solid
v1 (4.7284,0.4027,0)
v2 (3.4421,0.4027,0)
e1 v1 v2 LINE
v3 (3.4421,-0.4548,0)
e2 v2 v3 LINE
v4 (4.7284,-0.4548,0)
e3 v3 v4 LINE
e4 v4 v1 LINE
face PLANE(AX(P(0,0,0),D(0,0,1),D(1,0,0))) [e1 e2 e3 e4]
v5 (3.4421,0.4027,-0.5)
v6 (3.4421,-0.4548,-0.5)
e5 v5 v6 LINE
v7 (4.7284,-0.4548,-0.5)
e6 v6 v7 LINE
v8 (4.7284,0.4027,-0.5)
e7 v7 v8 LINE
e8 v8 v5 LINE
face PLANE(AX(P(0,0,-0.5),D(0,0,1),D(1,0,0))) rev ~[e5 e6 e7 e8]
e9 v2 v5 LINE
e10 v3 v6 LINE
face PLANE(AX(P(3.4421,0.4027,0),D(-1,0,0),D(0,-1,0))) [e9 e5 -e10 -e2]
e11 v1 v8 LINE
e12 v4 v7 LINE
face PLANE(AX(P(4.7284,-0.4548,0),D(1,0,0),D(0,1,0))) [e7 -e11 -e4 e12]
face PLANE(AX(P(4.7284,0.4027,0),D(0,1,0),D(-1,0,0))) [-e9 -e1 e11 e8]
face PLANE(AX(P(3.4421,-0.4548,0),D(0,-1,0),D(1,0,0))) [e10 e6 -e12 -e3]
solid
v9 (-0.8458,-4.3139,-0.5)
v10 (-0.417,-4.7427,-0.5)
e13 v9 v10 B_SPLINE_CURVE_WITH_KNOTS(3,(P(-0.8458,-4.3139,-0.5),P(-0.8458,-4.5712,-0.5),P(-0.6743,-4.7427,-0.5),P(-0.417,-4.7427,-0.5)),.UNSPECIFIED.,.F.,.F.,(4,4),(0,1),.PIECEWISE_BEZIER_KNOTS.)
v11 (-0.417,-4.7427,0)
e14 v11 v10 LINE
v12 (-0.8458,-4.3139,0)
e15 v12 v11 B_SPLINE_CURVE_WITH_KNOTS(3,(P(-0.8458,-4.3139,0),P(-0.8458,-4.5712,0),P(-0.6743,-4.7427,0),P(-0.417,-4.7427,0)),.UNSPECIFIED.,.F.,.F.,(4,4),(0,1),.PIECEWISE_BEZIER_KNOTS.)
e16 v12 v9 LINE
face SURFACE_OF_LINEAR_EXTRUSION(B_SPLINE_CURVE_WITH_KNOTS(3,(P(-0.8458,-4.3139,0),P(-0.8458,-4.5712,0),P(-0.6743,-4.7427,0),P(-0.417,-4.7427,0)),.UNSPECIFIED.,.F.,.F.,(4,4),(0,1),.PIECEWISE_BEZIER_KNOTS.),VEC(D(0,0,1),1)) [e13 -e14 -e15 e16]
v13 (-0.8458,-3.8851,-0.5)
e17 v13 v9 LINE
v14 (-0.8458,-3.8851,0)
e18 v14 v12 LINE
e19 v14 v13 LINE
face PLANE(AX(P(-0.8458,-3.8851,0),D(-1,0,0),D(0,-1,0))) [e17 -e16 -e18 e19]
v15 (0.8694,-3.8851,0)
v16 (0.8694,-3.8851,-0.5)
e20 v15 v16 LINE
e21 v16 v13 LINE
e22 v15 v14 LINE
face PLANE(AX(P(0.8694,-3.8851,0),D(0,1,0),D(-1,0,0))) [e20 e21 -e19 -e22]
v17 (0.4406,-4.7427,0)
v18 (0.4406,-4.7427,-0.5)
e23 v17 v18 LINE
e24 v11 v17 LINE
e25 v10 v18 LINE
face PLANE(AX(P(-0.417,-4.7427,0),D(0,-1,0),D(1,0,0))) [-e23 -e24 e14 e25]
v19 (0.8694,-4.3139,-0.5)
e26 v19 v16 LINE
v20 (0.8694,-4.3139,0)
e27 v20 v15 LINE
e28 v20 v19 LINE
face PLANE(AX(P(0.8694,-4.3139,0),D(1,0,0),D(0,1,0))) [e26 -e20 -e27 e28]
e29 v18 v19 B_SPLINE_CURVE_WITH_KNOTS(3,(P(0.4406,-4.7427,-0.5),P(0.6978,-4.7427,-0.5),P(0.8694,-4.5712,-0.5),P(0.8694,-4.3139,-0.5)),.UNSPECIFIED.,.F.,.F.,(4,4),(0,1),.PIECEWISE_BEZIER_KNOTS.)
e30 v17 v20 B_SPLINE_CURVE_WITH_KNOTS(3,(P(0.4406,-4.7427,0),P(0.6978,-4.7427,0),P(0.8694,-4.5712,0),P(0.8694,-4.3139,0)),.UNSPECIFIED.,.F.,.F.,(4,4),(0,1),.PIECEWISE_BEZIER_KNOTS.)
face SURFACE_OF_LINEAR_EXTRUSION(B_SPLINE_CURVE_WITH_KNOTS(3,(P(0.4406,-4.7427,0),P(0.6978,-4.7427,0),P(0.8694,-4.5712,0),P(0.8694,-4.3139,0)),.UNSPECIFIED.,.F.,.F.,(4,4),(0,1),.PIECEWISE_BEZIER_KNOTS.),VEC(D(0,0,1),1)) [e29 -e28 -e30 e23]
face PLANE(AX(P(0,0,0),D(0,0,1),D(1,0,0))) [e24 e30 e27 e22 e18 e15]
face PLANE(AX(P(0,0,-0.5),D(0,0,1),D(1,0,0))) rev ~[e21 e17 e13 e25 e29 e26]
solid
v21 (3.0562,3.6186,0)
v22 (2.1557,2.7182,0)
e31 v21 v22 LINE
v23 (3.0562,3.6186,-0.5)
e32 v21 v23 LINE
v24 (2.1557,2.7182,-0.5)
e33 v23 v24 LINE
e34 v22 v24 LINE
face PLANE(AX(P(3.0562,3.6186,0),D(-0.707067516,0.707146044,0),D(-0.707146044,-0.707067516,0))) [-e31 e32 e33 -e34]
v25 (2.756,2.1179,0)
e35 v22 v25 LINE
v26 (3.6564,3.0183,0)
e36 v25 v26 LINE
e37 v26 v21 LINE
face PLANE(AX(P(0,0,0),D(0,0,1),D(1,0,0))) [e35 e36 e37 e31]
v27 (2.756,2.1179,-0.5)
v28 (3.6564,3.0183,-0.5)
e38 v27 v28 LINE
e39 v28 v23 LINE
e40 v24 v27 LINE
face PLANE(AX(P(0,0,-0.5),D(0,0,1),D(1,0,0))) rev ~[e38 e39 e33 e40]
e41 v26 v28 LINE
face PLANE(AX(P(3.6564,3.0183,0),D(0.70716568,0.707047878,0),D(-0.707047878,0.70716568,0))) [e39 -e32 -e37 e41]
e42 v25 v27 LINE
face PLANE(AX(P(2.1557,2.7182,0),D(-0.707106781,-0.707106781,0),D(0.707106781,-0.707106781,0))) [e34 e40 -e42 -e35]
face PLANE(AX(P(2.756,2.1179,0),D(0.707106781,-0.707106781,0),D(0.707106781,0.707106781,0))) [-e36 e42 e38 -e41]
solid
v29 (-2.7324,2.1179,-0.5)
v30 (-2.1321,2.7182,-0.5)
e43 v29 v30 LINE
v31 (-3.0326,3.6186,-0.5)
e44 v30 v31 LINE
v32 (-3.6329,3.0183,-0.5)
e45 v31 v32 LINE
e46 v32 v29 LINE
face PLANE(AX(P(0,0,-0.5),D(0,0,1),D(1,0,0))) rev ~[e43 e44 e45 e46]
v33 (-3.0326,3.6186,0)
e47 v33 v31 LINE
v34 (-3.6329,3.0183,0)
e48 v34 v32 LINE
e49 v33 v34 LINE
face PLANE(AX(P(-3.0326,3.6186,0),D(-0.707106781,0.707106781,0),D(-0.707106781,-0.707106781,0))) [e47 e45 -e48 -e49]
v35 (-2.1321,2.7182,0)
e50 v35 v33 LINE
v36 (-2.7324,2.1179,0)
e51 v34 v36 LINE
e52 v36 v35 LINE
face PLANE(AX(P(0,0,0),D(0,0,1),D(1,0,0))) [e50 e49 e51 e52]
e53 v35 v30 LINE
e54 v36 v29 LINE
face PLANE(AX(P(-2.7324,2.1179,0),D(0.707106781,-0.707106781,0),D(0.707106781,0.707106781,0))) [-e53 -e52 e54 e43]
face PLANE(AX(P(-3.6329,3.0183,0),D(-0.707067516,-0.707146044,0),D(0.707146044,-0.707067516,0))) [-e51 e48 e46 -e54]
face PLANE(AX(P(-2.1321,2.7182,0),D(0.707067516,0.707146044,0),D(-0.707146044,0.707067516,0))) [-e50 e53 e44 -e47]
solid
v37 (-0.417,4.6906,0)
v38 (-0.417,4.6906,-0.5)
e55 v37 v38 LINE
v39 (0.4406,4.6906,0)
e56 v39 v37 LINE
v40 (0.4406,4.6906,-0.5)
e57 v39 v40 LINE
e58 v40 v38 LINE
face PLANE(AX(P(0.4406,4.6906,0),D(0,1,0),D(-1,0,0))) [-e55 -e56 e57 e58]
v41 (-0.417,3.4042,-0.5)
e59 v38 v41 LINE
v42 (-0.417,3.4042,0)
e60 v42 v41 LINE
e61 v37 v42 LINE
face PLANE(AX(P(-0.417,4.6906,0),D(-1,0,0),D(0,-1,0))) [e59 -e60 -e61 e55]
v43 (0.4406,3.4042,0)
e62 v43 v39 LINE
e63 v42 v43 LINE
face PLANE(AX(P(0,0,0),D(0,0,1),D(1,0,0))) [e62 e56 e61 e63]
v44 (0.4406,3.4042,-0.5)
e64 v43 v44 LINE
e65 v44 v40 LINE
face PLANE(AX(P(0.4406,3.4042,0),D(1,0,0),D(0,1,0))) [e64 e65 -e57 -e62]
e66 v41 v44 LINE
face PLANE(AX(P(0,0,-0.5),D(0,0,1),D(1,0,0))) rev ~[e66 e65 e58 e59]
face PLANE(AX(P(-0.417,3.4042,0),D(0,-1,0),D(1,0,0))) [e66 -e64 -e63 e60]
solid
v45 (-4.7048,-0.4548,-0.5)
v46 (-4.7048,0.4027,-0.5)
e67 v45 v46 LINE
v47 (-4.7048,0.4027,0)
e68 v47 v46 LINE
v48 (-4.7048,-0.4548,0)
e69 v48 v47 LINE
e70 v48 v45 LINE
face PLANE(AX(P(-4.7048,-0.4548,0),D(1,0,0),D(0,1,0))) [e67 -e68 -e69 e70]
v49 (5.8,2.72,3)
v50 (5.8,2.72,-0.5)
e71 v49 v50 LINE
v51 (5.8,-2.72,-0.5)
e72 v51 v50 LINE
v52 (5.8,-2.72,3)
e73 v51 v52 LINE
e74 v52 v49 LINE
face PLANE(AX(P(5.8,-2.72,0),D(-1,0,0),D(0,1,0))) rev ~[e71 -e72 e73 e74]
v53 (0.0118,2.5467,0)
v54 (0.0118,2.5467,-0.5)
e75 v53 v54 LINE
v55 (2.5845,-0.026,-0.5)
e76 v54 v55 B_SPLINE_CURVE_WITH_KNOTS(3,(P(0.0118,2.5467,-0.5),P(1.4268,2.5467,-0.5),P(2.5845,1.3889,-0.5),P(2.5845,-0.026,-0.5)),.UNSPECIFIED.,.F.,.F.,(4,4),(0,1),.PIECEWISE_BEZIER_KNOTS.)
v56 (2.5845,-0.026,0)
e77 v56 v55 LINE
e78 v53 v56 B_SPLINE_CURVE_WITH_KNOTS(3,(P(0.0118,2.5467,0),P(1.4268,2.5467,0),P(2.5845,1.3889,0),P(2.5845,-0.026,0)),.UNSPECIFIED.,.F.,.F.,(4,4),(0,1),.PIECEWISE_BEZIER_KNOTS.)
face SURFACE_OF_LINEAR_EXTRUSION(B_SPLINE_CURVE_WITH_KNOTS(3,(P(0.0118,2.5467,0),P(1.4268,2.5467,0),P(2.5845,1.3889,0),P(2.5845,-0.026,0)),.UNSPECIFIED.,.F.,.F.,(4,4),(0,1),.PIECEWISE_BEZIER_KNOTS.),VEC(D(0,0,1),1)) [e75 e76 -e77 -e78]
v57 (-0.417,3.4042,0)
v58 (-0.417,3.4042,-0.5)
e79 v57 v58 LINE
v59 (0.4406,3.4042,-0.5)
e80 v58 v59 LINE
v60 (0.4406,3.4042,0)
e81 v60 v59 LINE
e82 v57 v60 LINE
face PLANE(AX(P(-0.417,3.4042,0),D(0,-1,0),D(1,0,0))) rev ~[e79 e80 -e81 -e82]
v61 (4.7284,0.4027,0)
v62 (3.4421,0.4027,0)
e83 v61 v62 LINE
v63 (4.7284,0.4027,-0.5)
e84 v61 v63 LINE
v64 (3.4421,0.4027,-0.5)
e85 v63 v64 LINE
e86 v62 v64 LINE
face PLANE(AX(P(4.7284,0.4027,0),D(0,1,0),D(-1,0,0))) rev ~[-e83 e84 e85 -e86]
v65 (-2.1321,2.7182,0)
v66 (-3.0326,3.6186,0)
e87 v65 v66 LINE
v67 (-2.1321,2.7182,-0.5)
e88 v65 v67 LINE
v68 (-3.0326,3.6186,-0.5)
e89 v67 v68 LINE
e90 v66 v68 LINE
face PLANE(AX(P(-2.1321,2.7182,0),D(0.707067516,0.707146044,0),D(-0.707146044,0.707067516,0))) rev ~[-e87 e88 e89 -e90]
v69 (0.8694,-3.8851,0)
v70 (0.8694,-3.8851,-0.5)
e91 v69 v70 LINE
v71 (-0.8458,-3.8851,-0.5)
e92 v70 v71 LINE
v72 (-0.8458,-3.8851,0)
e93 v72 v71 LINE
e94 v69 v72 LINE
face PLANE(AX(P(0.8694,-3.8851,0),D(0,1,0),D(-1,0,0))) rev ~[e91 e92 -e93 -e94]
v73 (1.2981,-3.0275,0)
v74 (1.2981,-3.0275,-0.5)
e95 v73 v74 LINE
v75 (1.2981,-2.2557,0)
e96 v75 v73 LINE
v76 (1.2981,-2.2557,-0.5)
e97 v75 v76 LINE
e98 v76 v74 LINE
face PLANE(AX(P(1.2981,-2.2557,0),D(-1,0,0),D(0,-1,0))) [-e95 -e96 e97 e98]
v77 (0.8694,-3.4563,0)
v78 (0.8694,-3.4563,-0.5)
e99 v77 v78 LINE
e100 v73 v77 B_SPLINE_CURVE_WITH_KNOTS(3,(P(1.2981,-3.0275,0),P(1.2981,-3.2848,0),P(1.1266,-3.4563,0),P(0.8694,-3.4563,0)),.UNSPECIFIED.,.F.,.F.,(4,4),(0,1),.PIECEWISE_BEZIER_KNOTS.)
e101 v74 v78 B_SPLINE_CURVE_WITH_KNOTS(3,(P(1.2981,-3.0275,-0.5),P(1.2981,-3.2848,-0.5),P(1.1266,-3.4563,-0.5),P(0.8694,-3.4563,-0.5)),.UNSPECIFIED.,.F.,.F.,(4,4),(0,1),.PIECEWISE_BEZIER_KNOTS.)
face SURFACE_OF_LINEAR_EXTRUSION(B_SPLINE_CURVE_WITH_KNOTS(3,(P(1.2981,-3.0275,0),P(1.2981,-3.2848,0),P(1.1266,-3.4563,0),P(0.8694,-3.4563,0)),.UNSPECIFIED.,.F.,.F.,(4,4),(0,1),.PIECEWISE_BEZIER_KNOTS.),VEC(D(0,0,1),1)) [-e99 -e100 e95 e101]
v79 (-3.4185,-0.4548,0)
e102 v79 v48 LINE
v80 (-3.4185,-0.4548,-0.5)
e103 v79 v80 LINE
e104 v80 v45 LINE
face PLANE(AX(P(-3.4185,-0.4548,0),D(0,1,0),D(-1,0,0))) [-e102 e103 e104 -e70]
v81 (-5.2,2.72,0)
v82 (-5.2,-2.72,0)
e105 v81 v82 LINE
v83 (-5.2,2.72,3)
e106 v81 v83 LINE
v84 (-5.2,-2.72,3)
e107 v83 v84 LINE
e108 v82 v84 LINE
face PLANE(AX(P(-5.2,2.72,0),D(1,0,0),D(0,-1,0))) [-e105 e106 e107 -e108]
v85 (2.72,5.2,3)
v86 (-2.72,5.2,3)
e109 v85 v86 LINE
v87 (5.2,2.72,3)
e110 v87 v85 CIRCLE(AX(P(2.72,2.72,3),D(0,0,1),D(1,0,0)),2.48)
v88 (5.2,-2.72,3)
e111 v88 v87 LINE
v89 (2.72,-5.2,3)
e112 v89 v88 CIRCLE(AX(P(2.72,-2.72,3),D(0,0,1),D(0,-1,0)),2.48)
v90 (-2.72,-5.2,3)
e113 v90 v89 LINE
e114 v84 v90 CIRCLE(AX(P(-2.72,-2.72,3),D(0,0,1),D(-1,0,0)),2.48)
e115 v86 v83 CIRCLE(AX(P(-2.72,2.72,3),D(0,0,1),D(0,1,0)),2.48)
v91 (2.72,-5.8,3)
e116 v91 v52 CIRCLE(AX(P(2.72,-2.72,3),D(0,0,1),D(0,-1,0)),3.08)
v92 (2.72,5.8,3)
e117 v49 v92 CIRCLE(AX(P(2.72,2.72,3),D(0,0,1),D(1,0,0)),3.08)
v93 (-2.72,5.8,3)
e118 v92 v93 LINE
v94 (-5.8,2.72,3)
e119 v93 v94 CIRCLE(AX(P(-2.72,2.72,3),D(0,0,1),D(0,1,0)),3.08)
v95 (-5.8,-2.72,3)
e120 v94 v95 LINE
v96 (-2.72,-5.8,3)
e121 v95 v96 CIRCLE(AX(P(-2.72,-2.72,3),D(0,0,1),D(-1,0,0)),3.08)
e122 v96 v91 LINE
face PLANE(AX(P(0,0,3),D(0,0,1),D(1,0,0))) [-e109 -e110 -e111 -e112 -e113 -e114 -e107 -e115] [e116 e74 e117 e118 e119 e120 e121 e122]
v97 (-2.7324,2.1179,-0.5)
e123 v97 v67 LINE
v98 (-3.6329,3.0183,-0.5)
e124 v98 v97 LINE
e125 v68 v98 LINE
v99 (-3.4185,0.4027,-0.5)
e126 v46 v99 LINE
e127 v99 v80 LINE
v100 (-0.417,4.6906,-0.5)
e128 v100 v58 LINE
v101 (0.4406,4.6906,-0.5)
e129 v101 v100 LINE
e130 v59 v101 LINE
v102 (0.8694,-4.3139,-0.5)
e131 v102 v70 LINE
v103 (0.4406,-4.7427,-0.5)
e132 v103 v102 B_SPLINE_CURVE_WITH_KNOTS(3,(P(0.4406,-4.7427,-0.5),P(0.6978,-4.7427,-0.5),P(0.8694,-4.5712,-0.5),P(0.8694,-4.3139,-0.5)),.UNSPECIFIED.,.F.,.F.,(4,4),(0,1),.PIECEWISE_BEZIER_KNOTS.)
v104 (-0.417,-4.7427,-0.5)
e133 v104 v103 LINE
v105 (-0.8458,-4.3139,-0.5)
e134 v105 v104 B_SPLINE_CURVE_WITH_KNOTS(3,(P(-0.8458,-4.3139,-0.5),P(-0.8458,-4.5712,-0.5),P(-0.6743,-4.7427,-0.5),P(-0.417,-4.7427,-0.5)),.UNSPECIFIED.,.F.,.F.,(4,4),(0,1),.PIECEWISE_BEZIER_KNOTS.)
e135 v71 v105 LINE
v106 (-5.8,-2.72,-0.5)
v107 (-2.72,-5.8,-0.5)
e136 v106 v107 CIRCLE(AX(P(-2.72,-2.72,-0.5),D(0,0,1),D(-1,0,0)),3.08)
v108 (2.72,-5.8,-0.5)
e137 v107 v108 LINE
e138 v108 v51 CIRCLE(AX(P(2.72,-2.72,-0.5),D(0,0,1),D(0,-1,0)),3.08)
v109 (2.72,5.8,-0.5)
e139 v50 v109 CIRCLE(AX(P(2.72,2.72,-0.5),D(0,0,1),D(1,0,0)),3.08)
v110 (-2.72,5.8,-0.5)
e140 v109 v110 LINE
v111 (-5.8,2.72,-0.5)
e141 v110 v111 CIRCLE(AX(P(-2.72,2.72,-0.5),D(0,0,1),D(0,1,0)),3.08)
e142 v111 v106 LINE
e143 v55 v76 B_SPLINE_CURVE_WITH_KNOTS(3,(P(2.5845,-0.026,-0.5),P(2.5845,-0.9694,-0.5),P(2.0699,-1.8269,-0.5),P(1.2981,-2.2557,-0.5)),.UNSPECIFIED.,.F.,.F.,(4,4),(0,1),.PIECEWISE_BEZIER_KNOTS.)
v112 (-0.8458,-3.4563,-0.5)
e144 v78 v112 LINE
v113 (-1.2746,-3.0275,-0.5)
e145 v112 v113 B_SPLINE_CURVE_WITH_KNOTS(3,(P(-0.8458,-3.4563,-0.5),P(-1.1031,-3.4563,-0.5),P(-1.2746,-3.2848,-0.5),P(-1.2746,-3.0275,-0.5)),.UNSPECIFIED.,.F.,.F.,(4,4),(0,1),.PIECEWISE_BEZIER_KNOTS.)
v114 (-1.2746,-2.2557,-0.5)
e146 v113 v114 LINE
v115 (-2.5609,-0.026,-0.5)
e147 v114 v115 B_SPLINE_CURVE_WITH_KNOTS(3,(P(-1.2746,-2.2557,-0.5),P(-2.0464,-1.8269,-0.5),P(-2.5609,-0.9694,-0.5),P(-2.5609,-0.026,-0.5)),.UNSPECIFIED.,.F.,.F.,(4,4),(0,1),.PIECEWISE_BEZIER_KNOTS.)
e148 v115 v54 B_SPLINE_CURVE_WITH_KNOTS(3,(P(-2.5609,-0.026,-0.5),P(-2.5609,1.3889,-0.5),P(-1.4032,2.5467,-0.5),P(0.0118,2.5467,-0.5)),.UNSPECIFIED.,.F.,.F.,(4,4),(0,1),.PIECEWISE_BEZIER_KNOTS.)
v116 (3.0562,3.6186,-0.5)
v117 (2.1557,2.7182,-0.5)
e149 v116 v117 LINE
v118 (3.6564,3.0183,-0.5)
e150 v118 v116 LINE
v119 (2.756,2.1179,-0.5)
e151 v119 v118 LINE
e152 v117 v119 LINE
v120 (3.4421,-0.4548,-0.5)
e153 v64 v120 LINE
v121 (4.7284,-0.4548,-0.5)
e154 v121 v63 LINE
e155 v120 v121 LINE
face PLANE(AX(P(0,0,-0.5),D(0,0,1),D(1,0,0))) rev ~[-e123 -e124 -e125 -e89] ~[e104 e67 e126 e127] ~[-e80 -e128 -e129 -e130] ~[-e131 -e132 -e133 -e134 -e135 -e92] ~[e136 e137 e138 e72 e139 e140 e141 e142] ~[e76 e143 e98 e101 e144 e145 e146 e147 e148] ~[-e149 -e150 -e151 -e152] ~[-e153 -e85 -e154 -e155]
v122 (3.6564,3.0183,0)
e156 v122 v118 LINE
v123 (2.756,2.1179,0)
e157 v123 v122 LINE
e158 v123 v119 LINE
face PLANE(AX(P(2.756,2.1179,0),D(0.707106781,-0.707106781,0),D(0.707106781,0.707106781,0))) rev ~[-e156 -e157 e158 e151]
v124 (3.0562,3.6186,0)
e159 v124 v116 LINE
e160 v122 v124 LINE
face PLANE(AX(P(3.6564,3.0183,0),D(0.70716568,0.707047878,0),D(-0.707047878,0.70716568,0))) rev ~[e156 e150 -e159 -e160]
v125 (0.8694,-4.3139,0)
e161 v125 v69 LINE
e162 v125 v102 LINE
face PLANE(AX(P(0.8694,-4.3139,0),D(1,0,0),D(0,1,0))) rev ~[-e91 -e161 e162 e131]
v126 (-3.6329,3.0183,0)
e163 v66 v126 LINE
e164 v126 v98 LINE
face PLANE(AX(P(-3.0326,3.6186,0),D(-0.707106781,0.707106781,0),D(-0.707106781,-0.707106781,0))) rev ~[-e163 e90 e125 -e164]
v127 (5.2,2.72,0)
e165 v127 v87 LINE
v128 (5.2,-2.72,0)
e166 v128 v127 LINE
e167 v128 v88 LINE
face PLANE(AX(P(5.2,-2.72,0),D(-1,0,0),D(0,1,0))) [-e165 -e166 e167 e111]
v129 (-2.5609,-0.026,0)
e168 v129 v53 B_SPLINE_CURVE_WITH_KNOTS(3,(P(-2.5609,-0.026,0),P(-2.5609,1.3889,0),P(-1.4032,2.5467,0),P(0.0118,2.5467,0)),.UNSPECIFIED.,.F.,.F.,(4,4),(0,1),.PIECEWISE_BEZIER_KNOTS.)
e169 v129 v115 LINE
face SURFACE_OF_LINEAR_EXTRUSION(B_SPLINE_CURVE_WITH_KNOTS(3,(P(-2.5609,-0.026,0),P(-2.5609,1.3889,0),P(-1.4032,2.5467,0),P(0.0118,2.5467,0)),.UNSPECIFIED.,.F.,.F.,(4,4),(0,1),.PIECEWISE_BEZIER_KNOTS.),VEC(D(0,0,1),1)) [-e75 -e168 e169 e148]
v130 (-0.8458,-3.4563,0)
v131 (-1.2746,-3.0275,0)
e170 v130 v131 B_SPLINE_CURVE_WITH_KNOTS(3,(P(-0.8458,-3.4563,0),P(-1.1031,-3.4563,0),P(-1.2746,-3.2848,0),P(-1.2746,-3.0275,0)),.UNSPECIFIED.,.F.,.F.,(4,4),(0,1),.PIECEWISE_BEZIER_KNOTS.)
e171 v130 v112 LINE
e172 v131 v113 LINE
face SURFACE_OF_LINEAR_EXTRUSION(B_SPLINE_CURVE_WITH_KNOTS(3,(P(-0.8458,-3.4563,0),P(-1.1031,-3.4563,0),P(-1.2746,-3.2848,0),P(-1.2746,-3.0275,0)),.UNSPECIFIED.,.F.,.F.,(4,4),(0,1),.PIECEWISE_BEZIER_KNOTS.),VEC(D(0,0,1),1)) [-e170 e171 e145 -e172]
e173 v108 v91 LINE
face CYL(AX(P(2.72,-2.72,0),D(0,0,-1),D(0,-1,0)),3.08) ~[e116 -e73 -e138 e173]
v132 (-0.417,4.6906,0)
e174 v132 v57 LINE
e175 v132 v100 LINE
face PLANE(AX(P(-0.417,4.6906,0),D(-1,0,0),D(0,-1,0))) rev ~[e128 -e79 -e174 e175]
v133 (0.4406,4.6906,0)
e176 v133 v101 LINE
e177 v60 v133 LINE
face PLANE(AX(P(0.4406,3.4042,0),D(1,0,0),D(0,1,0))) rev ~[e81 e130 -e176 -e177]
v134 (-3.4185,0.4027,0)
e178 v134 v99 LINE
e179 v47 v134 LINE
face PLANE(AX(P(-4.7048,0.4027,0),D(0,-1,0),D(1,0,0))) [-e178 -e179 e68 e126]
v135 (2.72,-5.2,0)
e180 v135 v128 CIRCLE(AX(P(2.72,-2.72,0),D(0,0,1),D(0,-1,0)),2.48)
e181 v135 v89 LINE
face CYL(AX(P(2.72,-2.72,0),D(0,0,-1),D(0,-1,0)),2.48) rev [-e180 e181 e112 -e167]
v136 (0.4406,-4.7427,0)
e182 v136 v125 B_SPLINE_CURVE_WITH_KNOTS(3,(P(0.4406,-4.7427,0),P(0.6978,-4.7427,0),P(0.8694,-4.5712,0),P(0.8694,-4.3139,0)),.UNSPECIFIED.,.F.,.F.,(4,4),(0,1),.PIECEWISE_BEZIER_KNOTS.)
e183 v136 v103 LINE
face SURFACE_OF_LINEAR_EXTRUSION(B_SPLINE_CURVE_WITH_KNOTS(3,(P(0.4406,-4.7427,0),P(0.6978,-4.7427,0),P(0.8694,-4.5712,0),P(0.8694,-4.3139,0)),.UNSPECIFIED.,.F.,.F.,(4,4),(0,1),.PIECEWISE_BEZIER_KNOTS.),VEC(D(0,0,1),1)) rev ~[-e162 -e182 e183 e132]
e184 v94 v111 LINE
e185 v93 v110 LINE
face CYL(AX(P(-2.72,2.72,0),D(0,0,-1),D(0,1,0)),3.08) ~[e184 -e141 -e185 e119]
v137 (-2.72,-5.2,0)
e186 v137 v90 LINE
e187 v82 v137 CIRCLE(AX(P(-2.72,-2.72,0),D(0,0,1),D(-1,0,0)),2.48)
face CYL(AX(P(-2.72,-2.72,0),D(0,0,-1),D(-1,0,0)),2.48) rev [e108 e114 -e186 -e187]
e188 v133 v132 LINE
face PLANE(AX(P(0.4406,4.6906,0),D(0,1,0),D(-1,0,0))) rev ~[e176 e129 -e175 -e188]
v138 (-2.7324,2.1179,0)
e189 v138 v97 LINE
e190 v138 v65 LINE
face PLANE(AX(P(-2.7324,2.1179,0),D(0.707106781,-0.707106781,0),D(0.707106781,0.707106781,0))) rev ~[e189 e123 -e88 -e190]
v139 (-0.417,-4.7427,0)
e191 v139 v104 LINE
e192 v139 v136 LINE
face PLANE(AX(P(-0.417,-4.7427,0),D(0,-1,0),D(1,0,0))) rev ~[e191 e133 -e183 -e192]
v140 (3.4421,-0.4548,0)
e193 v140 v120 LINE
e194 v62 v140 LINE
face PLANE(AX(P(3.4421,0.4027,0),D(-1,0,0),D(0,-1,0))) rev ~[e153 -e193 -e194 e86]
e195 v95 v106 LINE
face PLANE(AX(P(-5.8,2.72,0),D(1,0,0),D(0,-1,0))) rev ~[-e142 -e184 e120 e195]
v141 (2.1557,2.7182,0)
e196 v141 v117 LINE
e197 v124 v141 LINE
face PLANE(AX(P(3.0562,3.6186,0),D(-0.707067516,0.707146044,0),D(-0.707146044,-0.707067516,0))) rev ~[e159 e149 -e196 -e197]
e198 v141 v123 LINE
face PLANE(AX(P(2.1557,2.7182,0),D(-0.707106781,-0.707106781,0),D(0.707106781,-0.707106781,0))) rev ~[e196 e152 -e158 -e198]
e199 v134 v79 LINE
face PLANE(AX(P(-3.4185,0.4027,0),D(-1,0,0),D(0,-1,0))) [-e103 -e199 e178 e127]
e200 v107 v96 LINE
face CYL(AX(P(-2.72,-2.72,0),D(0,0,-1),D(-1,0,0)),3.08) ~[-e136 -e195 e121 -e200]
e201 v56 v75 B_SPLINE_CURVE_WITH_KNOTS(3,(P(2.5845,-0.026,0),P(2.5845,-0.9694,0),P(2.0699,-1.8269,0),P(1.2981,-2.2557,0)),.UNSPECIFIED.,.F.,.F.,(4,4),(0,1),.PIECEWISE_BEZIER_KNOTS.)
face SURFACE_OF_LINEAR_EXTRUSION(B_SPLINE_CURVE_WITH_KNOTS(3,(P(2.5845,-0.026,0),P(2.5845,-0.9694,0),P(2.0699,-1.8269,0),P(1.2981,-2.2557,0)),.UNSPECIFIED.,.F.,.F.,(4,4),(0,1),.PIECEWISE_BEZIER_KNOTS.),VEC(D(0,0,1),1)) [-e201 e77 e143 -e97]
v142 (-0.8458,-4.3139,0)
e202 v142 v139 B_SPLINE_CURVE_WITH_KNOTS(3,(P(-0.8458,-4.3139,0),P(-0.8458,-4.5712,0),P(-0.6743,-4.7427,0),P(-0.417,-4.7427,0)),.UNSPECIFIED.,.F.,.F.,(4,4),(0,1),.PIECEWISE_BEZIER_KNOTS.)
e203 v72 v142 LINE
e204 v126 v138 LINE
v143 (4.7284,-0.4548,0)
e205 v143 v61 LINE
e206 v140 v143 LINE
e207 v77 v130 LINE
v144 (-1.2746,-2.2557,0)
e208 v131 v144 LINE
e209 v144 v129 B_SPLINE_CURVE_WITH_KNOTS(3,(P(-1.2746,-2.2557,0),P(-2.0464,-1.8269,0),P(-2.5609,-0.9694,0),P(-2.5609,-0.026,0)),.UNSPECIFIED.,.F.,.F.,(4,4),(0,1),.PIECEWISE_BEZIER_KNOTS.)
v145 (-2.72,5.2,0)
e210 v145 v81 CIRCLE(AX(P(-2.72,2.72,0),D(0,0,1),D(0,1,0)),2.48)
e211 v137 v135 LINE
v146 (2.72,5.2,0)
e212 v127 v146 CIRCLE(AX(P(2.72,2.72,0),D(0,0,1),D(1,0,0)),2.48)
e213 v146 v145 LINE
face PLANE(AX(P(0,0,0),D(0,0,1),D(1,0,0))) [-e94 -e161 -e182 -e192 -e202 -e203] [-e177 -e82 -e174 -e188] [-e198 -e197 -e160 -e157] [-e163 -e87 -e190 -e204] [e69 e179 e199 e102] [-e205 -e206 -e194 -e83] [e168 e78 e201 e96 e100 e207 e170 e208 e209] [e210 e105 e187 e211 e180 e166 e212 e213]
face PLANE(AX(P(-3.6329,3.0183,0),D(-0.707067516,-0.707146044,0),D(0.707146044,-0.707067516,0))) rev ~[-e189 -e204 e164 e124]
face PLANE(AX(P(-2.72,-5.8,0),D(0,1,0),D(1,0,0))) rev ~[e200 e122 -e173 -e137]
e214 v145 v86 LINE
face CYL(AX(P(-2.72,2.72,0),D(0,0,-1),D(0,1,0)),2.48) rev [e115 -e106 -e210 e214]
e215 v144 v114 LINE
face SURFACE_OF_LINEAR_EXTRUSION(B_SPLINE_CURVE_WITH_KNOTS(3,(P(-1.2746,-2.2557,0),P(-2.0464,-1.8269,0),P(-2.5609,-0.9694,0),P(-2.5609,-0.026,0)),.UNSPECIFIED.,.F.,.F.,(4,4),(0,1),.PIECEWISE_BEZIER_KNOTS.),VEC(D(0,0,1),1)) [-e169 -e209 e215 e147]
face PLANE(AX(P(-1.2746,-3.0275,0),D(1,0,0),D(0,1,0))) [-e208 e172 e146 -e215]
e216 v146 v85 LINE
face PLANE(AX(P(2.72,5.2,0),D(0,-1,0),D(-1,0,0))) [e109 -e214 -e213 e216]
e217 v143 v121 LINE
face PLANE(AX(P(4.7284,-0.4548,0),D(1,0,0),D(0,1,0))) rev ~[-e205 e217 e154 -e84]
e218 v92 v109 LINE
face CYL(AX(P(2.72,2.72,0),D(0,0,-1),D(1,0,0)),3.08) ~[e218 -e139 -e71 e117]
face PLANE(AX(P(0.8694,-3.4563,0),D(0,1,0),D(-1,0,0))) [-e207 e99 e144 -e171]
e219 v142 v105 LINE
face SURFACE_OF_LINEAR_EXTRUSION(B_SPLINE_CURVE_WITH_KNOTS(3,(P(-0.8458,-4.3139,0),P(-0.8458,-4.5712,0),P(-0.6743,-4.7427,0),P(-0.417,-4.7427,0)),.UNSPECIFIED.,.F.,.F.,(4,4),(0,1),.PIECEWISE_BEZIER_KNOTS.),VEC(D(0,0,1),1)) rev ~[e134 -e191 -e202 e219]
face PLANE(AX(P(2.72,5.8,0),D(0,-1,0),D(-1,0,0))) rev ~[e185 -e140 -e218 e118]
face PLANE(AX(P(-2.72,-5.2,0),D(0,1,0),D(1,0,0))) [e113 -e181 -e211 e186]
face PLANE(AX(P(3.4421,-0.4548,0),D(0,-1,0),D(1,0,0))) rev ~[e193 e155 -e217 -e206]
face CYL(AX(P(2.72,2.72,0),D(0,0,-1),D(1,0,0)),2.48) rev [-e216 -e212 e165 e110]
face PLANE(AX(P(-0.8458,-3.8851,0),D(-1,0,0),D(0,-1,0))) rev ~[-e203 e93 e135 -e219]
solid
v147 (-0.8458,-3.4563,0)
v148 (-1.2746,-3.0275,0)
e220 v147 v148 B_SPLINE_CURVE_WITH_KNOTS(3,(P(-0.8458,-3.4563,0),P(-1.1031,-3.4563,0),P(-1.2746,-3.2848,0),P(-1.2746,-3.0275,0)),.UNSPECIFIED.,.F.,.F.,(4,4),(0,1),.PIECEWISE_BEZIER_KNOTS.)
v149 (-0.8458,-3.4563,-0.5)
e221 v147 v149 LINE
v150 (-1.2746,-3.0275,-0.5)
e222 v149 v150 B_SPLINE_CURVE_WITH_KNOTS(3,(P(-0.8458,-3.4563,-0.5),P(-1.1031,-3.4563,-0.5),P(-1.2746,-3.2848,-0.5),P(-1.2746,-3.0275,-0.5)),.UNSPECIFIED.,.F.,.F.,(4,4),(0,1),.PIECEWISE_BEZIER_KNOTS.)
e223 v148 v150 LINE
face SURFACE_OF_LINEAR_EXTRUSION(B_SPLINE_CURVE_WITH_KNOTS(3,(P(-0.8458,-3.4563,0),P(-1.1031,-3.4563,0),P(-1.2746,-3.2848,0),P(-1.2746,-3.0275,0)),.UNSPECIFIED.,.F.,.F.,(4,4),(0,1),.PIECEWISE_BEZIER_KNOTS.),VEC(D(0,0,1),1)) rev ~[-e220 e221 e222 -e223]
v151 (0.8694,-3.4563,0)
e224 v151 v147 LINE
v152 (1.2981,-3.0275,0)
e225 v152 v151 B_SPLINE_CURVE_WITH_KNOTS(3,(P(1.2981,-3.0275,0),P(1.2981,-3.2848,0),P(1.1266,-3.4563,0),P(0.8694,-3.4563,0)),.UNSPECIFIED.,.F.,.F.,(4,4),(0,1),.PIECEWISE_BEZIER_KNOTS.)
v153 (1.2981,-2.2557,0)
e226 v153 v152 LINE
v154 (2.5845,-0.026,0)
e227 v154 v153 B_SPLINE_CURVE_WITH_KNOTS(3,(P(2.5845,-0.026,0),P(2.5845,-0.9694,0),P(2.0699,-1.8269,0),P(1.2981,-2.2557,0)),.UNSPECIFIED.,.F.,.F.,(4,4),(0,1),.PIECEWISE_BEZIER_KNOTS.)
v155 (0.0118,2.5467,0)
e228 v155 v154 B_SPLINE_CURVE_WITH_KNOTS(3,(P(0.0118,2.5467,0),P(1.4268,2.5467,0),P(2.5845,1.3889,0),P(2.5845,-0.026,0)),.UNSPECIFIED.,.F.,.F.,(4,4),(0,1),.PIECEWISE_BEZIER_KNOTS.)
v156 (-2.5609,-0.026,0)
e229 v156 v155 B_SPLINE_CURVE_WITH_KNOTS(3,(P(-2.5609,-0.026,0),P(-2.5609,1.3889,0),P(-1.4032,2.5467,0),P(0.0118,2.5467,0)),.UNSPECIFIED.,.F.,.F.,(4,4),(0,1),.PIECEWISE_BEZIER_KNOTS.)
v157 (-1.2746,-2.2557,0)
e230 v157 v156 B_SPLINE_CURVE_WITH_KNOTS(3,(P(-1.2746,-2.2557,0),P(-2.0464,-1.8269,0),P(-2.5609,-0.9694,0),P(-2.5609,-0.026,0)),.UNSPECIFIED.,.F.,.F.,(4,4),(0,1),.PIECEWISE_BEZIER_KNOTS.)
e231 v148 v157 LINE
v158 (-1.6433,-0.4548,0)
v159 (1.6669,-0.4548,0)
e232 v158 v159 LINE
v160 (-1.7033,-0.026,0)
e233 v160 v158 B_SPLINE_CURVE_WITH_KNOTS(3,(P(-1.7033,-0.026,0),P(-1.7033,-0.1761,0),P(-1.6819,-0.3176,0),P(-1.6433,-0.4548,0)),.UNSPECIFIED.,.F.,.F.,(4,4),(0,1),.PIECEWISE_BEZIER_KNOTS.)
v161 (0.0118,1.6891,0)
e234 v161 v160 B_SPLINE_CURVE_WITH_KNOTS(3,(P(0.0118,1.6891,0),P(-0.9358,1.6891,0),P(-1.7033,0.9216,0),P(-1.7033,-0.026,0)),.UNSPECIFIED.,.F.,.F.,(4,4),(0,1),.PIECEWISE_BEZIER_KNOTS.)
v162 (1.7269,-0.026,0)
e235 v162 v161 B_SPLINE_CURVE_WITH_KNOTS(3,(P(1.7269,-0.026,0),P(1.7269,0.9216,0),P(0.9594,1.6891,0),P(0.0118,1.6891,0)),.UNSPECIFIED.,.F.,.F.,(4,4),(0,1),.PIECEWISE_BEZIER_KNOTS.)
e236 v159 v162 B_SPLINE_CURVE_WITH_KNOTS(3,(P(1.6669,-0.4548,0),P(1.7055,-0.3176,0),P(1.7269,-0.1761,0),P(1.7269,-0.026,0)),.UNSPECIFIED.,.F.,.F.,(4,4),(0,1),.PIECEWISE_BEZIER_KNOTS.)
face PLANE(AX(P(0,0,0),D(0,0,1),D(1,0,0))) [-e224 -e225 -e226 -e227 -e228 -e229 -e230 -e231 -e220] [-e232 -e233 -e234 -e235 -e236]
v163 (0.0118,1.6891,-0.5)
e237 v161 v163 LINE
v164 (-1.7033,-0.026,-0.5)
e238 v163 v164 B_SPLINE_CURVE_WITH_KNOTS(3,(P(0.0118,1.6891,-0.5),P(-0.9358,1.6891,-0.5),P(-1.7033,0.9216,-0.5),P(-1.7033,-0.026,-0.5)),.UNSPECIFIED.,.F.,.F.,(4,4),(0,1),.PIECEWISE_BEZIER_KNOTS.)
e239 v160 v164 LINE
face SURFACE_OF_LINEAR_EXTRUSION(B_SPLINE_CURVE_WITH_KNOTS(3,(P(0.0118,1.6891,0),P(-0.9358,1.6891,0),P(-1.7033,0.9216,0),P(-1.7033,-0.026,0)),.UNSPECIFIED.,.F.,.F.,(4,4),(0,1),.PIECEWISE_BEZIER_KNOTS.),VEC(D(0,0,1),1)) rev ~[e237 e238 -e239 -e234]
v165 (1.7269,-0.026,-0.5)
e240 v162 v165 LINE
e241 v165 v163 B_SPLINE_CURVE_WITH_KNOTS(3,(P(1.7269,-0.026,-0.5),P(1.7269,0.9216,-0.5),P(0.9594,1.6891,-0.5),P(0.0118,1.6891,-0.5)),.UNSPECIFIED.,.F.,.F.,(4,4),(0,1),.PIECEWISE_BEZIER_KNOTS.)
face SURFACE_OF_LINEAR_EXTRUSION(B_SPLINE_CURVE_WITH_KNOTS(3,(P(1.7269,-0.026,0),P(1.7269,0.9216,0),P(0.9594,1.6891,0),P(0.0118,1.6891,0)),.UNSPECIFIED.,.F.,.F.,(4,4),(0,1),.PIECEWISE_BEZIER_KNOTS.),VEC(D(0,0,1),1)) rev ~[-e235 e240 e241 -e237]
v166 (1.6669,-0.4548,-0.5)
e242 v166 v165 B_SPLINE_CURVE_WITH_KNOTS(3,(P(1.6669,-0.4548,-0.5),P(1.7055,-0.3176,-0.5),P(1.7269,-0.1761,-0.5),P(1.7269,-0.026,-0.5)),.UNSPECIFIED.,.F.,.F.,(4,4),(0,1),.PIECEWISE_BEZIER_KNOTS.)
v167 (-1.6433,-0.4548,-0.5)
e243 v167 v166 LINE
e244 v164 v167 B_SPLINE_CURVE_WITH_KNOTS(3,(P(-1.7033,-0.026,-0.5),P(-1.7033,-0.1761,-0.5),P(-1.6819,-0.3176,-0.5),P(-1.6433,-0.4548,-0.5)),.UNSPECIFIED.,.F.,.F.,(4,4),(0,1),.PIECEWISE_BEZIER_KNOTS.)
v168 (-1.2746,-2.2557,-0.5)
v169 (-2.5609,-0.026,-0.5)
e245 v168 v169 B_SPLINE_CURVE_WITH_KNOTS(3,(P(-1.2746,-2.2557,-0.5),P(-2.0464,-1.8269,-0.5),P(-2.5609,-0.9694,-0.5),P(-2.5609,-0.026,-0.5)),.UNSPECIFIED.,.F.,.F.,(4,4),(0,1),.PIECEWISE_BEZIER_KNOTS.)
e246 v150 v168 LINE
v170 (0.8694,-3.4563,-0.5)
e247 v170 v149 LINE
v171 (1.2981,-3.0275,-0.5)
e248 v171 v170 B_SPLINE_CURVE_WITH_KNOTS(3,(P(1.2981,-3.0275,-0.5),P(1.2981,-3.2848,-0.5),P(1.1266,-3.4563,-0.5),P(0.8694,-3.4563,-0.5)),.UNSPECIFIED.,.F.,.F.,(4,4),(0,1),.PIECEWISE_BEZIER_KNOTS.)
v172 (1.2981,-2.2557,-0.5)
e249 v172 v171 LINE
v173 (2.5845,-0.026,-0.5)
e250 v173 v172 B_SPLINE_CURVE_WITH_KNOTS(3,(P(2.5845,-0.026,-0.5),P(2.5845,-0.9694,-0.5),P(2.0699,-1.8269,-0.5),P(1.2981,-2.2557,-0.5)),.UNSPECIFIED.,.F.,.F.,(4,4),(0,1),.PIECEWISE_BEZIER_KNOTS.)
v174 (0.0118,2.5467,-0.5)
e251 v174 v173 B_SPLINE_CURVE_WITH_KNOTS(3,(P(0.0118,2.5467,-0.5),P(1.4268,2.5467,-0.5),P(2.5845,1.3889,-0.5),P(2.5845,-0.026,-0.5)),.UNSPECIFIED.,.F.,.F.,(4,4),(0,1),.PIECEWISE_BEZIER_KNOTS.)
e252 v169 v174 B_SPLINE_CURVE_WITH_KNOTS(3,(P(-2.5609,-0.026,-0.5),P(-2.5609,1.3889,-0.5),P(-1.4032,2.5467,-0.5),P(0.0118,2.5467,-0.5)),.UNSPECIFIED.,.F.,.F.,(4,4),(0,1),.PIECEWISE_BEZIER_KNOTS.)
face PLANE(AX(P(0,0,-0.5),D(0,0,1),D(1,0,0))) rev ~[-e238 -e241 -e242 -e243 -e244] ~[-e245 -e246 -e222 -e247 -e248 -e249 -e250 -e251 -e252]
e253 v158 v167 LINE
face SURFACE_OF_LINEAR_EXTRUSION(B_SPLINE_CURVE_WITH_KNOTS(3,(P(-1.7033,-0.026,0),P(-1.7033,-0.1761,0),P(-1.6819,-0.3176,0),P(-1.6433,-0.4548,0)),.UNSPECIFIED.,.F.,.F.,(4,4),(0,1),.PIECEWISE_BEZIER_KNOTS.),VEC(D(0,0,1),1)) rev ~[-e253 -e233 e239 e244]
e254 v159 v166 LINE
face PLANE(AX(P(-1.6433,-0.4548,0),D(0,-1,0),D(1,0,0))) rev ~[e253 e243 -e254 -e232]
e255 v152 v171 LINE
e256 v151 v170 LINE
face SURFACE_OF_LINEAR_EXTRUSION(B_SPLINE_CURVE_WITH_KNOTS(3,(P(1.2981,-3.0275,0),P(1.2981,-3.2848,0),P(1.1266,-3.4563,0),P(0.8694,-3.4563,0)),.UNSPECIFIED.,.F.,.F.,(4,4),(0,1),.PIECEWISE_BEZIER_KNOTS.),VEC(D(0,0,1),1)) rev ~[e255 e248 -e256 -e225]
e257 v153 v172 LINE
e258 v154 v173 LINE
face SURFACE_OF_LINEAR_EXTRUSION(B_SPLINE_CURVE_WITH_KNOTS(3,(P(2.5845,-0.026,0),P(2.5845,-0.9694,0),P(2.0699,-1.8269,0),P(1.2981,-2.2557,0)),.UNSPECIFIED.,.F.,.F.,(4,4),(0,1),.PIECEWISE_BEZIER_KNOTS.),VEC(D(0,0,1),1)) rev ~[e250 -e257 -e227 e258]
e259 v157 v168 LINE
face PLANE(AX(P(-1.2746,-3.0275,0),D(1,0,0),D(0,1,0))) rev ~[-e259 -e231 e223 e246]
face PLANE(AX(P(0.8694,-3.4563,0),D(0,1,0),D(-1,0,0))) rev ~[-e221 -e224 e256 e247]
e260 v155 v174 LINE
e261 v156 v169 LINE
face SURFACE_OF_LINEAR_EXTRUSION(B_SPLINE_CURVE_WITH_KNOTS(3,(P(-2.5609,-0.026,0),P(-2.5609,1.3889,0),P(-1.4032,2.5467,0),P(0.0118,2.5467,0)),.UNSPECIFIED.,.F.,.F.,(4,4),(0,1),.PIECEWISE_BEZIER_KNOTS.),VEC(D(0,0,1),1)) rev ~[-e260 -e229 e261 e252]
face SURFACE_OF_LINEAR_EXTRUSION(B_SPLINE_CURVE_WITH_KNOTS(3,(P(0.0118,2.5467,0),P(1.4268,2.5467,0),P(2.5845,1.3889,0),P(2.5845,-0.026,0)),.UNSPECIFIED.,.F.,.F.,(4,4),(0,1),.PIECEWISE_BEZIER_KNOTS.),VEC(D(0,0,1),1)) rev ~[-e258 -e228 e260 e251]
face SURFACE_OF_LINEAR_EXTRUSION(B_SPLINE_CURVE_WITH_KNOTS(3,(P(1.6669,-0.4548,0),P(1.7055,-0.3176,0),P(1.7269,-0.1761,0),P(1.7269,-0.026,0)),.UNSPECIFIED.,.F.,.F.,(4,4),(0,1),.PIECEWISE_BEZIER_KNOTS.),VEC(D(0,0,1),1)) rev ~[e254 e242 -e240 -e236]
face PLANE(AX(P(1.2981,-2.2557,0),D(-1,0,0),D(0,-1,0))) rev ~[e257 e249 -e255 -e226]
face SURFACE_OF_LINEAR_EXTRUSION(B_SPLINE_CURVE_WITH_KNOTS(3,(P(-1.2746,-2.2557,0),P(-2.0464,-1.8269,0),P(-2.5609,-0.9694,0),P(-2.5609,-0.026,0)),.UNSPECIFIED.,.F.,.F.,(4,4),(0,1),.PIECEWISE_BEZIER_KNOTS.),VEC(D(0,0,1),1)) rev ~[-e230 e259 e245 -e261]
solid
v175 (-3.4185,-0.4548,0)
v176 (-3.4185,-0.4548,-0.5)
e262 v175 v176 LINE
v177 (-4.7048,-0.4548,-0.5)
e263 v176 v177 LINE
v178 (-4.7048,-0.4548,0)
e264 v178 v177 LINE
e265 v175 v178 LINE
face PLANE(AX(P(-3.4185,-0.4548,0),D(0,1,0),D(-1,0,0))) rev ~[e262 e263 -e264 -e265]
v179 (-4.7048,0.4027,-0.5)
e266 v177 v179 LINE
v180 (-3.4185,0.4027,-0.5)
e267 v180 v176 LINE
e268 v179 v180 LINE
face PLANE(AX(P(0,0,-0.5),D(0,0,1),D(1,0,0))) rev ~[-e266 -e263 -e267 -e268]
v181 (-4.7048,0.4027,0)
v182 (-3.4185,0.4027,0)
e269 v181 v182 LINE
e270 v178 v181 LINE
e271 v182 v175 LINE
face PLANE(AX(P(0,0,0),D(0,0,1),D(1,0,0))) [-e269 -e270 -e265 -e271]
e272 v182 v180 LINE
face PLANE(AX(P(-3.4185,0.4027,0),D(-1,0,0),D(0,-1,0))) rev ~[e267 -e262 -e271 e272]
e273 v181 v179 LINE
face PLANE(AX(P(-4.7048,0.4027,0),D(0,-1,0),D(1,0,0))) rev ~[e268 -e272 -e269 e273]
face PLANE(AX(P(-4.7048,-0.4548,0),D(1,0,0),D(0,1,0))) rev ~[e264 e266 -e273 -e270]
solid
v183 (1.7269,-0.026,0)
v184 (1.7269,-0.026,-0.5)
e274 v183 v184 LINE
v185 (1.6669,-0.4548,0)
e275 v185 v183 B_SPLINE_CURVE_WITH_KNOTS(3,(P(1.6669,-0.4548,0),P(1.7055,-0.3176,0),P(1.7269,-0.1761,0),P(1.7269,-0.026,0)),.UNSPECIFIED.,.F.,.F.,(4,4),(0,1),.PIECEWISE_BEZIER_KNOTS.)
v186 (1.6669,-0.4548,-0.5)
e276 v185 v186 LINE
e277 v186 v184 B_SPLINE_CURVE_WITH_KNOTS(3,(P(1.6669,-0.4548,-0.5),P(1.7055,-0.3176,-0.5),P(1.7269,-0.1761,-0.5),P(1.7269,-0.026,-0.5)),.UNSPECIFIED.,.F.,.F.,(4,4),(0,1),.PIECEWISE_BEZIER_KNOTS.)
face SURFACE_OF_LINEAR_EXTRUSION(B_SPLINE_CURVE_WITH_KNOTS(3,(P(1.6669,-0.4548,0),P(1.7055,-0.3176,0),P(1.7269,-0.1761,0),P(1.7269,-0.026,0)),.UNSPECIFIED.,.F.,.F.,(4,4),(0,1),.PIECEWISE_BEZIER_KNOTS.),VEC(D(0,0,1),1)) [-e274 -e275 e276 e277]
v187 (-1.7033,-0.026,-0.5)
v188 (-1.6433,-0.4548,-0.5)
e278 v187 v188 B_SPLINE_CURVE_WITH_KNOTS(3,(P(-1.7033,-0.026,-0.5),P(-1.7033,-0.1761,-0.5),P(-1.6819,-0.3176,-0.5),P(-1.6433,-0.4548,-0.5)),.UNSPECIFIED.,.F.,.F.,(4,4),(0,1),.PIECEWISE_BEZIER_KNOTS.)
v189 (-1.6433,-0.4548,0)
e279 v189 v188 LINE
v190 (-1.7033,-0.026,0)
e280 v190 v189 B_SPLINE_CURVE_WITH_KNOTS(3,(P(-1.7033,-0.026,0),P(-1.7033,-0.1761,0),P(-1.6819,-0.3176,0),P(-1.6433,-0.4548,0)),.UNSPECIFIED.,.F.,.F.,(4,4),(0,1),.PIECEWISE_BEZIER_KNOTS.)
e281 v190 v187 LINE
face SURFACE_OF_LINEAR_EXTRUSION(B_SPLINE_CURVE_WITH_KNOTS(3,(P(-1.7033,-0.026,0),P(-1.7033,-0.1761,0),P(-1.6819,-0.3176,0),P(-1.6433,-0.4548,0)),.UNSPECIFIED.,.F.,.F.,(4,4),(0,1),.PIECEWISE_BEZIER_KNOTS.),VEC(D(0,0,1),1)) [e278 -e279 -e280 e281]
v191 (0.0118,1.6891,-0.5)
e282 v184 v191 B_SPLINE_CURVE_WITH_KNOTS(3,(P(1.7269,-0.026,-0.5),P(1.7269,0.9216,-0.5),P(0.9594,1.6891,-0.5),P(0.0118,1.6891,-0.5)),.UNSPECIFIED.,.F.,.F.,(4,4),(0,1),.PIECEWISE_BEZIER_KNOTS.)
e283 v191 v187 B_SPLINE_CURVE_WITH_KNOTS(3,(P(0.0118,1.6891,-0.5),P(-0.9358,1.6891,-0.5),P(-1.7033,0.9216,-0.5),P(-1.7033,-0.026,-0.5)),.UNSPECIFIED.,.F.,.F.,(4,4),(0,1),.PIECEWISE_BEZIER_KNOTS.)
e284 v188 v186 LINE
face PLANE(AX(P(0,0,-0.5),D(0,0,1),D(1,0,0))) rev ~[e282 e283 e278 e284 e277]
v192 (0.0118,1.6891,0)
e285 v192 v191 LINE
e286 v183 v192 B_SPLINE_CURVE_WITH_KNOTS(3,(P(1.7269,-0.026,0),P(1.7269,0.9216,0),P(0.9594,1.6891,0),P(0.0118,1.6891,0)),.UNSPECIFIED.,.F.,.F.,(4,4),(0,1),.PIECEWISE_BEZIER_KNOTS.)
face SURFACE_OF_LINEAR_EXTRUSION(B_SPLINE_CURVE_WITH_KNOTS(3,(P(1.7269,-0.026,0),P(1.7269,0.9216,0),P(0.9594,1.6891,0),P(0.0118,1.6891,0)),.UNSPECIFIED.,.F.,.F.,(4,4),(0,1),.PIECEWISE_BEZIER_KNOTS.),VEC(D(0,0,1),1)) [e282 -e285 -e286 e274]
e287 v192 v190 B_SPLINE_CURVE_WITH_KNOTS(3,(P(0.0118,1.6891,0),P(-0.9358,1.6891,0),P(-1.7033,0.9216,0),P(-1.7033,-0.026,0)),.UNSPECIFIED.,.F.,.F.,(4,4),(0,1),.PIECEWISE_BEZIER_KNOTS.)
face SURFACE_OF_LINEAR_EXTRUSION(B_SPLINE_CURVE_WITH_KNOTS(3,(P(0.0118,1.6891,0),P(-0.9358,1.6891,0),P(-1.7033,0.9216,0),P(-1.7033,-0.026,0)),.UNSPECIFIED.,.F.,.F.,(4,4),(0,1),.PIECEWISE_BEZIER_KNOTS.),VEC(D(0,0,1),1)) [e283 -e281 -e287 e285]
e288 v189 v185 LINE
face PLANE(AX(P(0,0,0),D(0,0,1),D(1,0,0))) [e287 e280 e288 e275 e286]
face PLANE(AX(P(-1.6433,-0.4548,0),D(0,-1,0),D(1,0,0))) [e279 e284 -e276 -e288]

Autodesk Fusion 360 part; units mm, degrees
sketch "Sketch1" plane through (0, 0, 0) normal (0, 0, 1) x (1, 0, 0)
  line L0 (2.72, 5) -> (-2.72, 5)
  line L1 (-5, 2.72) -> (-5, -2.72)
  line L2 (-2.72, -5) -> (2.72, -5)
  line L3 (5, -2.72) -> (5, 2.72)
  line L4 (5, 5) -> (-5, -5) construction
  line L5 (-5, 5) -> (5, -5) construction
  arc A0 (5, 2.72) -> (2.72, 5) centre (2.72, 2.72) ccw
  arc A1 (2.72, -5) -> (5, -2.72) centre (2.72, -2.72) ccw
  arc A2 (-5, -2.72) -> (-2.72, -5) centre (-2.72, -2.72) ccw
  arc A3 (-2.72, 5) -> (-5, 2.72) centre (-2.72, 2.72) ccw
  line L6 (-2.72, -5.2) -> (2.72, -5.2)
  arc A4 (2.72, -5.2) -> (5.2, -2.72) centre (2.72, -2.72) ccw
  line L7 (5.2, -2.72) -> (5.2, 2.72)
  arc A5 (5.2, 2.72) -> (2.72, 5.2) centre (2.72, 2.72) ccw
  line L8 (2.72, 5.2) -> (-2.72, 5.2)
  arc A6 (-2.72, 5.2) -> (-5.2, 2.72) centre (-2.72, 2.72) ccw
  line L9 (-5.2, 2.72) -> (-5.2, -2.72)
  arc A7 (-5.2, -2.72) -> (-2.72, -5.2) centre (-2.72, -2.72) ccw
  line L10 (-2.72, -5.8) -> (2.72, -5.8)
  arc A8 (2.72, -5.8) -> (5.8, -2.72) centre (2.72, -2.72) ccw
  line L11 (5.8, -2.72) -> (5.8, 2.72)
  arc A9 (5.8, 2.72) -> (2.72, 5.8) centre (2.72, 2.72) ccw
  line L12 (2.72, 5.8) -> (-2.72, 5.8)
  arc A10 (-2.72, 5.8) -> (-5.8, 2.72) centre (-2.72, 2.72) ccw
  line L13 (-5.8, 2.72) -> (-5.8, -2.72)
  arc A11 (-5.8, -2.72) -> (-2.72, -5.8) centre (-2.72, -2.72) ccw
  dimension "d1" = 10
  dimension "d2" = 10
  dimension "d3" = 2.28
  dimension "d4" = 0.2
  dimension "d5" = 0.8
extrude "Extrude1" add sketch "Sketch1" along normal blind 3 contours L10 A8 L11 A9 L12 A10 L13 A11 makes body 1
extrude "Extrude2" add sketch "Sketch1" against normal blind 0.5 contours L0 L1 L2 L3 A0 A1 A2 A3 | L6 A4 L7 A5 L8 A6 L9 A7 | L10 A8 L11 A9 L12 A10 L13 A11 bodies 1
sketch "Sketch2" plane through (0, 0, 0) normal (0, 0, 1) x (1, 0, 0)
  line L0 (-2.72, -5.2) -> (2.72, -5.2)
  arc A0 (2.72, -5.2) -> (5.2, -2.72) centre (2.72, -2.72) ccw
  line L1 (5.2, -2.72) -> (5.2, 2.72)
  arc A1 (5.2, 2.72) -> (2.72, 5.2) centre (2.72, 2.72) ccw
  line L2 (2.72, 5.2) -> (-2.72, 5.2)
  arc A2 (-2.72, 5.2) -> (-5.2, 2.72) centre (-2.72, 2.72) ccw
  line L3 (-5.2, 2.72) -> (-5.2, -2.72)
  arc A3 (-5.2, -2.72) -> (-2.72, -5.2) centre (-2.72, -2.72) ccw
  line L4 (-4.7048, 0.4027) -> (-3.4185, 0.4027)
  line L5 (-3.4185, 0.4027) -> (-3.4185, -0.4548)
  line L6 (-3.4185, -0.4548) -> (-4.7048, -0.4548)
  line L7 (-4.7048, -0.4548) -> (-4.7048, 0.4027)
  spline S0 degree 3 poles (-0.8458, -4.3139) (-0.8458, -4.5712) (-0.6743, -4.7427) (-0.417, -4.7427) knots 0 0 0 0 1 1 1 1
  line L8 (-0.417, -4.7427) -> (0.4406, -4.7427)
  spline S1 degree 3 poles (0.4406, -4.7427) (0.6978, -4.7427) (0.8694, -4.5712) (0.8694, -4.3139) knots 0 0 0 0 1 1 1 1
  line L9 (0.8694, -4.3139) -> (0.8694, -3.8851)
  line L10 (0.8694, -3.8851) -> (-0.8458, -3.8851)
  line L11 (-0.8458, -3.8851) -> (-0.8458, -4.3139)
  line L12 (0.4406, 4.6906) -> (-0.417, 4.6906)
  line L13 (-0.417, 4.6906) -> (-0.417, 3.4042)
  line L14 (-0.417, 3.4042) -> (0.4406, 3.4042)
  line L15 (0.4406, 3.4042) -> (0.4406, 4.6906)
  line L16 (-3.0326, 3.6186) -> (-3.6329, 3.0183)
  line L17 (-3.6329, 3.0183) -> (-2.7324, 2.1179)
  line L18 (-2.7324, 2.1179) -> (-2.1321, 2.7182)
  line L19 (-2.1321, 2.7182) -> (-3.0326, 3.6186)
  line L20 (3.4421, 0.4027) -> (3.4421, -0.4548)
  line L21 (3.4421, -0.4548) -> (4.7284, -0.4548)
  line L22 (4.7284, -0.4548) -> (4.7284, 0.4027)
  line L23 (4.7284, 0.4027) -> (3.4421, 0.4027)
  line L24 (3.0562, 3.6186) -> (2.1557, 2.7182)
  line L25 (2.1557, 2.7182) -> (2.756, 2.1179)
  line L26 (2.756, 2.1179) -> (3.6564, 3.0183)
  line L27 (3.6564, 3.0183) -> (3.0562, 3.6186)
  spline S2 degree 3 poles (2.5845, -0.026) (2.5845, -0.9694) (2.0699, -1.8269) (1.2981, -2.2557) knots 0 0 0 0 1 1 1 1
  line L28 (1.2981, -2.2557) -> (1.2981, -3.0275)
  spline S3 degree 3 poles (1.2981, -3.0275) (1.2981, -3.2848) (1.1266, -3.4563) (0.8694, -3.4563) knots 0 0 0 0 1 1 1 1
  line L29 (0.8694, -3.4563) -> (-0.8458, -3.4563)
  spline S4 degree 3 poles (-0.8458, -3.4563) (-1.1031, -3.4563) (-1.2746, -3.2848) (-1.2746, -3.0275) knots 0 0 0 0 1 1 1 1
  line L30 (-1.2746, -3.0275) -> (-1.2746, -2.2557)
  spline S5 degree 3 poles (-1.2746, -2.2557) (-2.0464, -1.8269) (-2.5609, -0.9694) (-2.5609, -0.026) knots 0 0 0 0 1 1 1 1
  spline S6 degree 3 poles (-2.5609, -0.026) (-2.5609, 1.3889) (-1.4032, 2.5467) (0.0118, 2.5467) knots 0 0 0 0 1 1 1 1
  spline S7 degree 3 poles (0.0118, 2.5467) (1.4268, 2.5467) (2.5845, 1.3889) (2.5845, -0.026) knots 0 0 0 0 1 1 1 1
  spline S8 degree 3 poles (-1.7033, -0.026) (-1.7033, -0.1761) (-1.6819, -0.3176) (-1.6433, -0.4548) knots 0 0 0 0 1 1 1 1
  line L31 (-1.6433, -0.4548) -> (1.6669, -0.4548)
  spline S9 degree 3 poles (1.6669, -0.4548) (1.7055, -0.3176) (1.7269, -0.1761) (1.7269, -0.026) knots 0 0 0 0 1 1 1 1
  spline S10 degree 3 poles (1.7269, -0.026) (1.7269, 0.9216) (0.9594, 1.6891) (0.0118, 1.6891) knots 0 0 0 0 1 1 1 1
  spline S11 degree 3 poles (0.0118, 1.6891) (-0.9358, 1.6891) (-1.7033, 0.9216) (-1.7033, -0.026) knots 0 0 0 0 1 1 1 1
extrude "Extrude3" cut sketch "Sketch2" against normal blind 0.5 contours L4 L5 L6 L7 | S0 L8 S1 L9 L10 L11 | L12 L13 L14 L15 | L16 L17 L18 L19 | L20 L21 L22 L23 | L24 L25 L26 L27 | S2 L28 S3 L29 S4 L30 S5 S6 S7 bodies 1 makes body 2 at (0.0118, 0.2598, -0.5)
extrude "Extrude4" add sketch "Sketch2" against normal blind 0.5 separate body contours L4 L5 L6 L7 | S0 L8 S1 L9 L10 L11 | L12 L13 L14 L15 | L16 L17 L18 L19 | L20 L21 L22 L23 | L24 L25 L26 L27 | S2 L28 S3 L29 S4 L30 S5 S6 S7 makes body 3 at (3.8708, 0.1169, 0) makes body 4 at (-4.2761, 0.1169, 0) makes body 5 at (2.8561, 2.6181, 0) makes body 6 at (-0.417, -1.0551, 0) makes body 7 at (-2.6324, 2.8182, 0) makes body 8 at (-0.1311, 3.833, 0) makes body 9 at (-0.1311, -4.171, 0)
